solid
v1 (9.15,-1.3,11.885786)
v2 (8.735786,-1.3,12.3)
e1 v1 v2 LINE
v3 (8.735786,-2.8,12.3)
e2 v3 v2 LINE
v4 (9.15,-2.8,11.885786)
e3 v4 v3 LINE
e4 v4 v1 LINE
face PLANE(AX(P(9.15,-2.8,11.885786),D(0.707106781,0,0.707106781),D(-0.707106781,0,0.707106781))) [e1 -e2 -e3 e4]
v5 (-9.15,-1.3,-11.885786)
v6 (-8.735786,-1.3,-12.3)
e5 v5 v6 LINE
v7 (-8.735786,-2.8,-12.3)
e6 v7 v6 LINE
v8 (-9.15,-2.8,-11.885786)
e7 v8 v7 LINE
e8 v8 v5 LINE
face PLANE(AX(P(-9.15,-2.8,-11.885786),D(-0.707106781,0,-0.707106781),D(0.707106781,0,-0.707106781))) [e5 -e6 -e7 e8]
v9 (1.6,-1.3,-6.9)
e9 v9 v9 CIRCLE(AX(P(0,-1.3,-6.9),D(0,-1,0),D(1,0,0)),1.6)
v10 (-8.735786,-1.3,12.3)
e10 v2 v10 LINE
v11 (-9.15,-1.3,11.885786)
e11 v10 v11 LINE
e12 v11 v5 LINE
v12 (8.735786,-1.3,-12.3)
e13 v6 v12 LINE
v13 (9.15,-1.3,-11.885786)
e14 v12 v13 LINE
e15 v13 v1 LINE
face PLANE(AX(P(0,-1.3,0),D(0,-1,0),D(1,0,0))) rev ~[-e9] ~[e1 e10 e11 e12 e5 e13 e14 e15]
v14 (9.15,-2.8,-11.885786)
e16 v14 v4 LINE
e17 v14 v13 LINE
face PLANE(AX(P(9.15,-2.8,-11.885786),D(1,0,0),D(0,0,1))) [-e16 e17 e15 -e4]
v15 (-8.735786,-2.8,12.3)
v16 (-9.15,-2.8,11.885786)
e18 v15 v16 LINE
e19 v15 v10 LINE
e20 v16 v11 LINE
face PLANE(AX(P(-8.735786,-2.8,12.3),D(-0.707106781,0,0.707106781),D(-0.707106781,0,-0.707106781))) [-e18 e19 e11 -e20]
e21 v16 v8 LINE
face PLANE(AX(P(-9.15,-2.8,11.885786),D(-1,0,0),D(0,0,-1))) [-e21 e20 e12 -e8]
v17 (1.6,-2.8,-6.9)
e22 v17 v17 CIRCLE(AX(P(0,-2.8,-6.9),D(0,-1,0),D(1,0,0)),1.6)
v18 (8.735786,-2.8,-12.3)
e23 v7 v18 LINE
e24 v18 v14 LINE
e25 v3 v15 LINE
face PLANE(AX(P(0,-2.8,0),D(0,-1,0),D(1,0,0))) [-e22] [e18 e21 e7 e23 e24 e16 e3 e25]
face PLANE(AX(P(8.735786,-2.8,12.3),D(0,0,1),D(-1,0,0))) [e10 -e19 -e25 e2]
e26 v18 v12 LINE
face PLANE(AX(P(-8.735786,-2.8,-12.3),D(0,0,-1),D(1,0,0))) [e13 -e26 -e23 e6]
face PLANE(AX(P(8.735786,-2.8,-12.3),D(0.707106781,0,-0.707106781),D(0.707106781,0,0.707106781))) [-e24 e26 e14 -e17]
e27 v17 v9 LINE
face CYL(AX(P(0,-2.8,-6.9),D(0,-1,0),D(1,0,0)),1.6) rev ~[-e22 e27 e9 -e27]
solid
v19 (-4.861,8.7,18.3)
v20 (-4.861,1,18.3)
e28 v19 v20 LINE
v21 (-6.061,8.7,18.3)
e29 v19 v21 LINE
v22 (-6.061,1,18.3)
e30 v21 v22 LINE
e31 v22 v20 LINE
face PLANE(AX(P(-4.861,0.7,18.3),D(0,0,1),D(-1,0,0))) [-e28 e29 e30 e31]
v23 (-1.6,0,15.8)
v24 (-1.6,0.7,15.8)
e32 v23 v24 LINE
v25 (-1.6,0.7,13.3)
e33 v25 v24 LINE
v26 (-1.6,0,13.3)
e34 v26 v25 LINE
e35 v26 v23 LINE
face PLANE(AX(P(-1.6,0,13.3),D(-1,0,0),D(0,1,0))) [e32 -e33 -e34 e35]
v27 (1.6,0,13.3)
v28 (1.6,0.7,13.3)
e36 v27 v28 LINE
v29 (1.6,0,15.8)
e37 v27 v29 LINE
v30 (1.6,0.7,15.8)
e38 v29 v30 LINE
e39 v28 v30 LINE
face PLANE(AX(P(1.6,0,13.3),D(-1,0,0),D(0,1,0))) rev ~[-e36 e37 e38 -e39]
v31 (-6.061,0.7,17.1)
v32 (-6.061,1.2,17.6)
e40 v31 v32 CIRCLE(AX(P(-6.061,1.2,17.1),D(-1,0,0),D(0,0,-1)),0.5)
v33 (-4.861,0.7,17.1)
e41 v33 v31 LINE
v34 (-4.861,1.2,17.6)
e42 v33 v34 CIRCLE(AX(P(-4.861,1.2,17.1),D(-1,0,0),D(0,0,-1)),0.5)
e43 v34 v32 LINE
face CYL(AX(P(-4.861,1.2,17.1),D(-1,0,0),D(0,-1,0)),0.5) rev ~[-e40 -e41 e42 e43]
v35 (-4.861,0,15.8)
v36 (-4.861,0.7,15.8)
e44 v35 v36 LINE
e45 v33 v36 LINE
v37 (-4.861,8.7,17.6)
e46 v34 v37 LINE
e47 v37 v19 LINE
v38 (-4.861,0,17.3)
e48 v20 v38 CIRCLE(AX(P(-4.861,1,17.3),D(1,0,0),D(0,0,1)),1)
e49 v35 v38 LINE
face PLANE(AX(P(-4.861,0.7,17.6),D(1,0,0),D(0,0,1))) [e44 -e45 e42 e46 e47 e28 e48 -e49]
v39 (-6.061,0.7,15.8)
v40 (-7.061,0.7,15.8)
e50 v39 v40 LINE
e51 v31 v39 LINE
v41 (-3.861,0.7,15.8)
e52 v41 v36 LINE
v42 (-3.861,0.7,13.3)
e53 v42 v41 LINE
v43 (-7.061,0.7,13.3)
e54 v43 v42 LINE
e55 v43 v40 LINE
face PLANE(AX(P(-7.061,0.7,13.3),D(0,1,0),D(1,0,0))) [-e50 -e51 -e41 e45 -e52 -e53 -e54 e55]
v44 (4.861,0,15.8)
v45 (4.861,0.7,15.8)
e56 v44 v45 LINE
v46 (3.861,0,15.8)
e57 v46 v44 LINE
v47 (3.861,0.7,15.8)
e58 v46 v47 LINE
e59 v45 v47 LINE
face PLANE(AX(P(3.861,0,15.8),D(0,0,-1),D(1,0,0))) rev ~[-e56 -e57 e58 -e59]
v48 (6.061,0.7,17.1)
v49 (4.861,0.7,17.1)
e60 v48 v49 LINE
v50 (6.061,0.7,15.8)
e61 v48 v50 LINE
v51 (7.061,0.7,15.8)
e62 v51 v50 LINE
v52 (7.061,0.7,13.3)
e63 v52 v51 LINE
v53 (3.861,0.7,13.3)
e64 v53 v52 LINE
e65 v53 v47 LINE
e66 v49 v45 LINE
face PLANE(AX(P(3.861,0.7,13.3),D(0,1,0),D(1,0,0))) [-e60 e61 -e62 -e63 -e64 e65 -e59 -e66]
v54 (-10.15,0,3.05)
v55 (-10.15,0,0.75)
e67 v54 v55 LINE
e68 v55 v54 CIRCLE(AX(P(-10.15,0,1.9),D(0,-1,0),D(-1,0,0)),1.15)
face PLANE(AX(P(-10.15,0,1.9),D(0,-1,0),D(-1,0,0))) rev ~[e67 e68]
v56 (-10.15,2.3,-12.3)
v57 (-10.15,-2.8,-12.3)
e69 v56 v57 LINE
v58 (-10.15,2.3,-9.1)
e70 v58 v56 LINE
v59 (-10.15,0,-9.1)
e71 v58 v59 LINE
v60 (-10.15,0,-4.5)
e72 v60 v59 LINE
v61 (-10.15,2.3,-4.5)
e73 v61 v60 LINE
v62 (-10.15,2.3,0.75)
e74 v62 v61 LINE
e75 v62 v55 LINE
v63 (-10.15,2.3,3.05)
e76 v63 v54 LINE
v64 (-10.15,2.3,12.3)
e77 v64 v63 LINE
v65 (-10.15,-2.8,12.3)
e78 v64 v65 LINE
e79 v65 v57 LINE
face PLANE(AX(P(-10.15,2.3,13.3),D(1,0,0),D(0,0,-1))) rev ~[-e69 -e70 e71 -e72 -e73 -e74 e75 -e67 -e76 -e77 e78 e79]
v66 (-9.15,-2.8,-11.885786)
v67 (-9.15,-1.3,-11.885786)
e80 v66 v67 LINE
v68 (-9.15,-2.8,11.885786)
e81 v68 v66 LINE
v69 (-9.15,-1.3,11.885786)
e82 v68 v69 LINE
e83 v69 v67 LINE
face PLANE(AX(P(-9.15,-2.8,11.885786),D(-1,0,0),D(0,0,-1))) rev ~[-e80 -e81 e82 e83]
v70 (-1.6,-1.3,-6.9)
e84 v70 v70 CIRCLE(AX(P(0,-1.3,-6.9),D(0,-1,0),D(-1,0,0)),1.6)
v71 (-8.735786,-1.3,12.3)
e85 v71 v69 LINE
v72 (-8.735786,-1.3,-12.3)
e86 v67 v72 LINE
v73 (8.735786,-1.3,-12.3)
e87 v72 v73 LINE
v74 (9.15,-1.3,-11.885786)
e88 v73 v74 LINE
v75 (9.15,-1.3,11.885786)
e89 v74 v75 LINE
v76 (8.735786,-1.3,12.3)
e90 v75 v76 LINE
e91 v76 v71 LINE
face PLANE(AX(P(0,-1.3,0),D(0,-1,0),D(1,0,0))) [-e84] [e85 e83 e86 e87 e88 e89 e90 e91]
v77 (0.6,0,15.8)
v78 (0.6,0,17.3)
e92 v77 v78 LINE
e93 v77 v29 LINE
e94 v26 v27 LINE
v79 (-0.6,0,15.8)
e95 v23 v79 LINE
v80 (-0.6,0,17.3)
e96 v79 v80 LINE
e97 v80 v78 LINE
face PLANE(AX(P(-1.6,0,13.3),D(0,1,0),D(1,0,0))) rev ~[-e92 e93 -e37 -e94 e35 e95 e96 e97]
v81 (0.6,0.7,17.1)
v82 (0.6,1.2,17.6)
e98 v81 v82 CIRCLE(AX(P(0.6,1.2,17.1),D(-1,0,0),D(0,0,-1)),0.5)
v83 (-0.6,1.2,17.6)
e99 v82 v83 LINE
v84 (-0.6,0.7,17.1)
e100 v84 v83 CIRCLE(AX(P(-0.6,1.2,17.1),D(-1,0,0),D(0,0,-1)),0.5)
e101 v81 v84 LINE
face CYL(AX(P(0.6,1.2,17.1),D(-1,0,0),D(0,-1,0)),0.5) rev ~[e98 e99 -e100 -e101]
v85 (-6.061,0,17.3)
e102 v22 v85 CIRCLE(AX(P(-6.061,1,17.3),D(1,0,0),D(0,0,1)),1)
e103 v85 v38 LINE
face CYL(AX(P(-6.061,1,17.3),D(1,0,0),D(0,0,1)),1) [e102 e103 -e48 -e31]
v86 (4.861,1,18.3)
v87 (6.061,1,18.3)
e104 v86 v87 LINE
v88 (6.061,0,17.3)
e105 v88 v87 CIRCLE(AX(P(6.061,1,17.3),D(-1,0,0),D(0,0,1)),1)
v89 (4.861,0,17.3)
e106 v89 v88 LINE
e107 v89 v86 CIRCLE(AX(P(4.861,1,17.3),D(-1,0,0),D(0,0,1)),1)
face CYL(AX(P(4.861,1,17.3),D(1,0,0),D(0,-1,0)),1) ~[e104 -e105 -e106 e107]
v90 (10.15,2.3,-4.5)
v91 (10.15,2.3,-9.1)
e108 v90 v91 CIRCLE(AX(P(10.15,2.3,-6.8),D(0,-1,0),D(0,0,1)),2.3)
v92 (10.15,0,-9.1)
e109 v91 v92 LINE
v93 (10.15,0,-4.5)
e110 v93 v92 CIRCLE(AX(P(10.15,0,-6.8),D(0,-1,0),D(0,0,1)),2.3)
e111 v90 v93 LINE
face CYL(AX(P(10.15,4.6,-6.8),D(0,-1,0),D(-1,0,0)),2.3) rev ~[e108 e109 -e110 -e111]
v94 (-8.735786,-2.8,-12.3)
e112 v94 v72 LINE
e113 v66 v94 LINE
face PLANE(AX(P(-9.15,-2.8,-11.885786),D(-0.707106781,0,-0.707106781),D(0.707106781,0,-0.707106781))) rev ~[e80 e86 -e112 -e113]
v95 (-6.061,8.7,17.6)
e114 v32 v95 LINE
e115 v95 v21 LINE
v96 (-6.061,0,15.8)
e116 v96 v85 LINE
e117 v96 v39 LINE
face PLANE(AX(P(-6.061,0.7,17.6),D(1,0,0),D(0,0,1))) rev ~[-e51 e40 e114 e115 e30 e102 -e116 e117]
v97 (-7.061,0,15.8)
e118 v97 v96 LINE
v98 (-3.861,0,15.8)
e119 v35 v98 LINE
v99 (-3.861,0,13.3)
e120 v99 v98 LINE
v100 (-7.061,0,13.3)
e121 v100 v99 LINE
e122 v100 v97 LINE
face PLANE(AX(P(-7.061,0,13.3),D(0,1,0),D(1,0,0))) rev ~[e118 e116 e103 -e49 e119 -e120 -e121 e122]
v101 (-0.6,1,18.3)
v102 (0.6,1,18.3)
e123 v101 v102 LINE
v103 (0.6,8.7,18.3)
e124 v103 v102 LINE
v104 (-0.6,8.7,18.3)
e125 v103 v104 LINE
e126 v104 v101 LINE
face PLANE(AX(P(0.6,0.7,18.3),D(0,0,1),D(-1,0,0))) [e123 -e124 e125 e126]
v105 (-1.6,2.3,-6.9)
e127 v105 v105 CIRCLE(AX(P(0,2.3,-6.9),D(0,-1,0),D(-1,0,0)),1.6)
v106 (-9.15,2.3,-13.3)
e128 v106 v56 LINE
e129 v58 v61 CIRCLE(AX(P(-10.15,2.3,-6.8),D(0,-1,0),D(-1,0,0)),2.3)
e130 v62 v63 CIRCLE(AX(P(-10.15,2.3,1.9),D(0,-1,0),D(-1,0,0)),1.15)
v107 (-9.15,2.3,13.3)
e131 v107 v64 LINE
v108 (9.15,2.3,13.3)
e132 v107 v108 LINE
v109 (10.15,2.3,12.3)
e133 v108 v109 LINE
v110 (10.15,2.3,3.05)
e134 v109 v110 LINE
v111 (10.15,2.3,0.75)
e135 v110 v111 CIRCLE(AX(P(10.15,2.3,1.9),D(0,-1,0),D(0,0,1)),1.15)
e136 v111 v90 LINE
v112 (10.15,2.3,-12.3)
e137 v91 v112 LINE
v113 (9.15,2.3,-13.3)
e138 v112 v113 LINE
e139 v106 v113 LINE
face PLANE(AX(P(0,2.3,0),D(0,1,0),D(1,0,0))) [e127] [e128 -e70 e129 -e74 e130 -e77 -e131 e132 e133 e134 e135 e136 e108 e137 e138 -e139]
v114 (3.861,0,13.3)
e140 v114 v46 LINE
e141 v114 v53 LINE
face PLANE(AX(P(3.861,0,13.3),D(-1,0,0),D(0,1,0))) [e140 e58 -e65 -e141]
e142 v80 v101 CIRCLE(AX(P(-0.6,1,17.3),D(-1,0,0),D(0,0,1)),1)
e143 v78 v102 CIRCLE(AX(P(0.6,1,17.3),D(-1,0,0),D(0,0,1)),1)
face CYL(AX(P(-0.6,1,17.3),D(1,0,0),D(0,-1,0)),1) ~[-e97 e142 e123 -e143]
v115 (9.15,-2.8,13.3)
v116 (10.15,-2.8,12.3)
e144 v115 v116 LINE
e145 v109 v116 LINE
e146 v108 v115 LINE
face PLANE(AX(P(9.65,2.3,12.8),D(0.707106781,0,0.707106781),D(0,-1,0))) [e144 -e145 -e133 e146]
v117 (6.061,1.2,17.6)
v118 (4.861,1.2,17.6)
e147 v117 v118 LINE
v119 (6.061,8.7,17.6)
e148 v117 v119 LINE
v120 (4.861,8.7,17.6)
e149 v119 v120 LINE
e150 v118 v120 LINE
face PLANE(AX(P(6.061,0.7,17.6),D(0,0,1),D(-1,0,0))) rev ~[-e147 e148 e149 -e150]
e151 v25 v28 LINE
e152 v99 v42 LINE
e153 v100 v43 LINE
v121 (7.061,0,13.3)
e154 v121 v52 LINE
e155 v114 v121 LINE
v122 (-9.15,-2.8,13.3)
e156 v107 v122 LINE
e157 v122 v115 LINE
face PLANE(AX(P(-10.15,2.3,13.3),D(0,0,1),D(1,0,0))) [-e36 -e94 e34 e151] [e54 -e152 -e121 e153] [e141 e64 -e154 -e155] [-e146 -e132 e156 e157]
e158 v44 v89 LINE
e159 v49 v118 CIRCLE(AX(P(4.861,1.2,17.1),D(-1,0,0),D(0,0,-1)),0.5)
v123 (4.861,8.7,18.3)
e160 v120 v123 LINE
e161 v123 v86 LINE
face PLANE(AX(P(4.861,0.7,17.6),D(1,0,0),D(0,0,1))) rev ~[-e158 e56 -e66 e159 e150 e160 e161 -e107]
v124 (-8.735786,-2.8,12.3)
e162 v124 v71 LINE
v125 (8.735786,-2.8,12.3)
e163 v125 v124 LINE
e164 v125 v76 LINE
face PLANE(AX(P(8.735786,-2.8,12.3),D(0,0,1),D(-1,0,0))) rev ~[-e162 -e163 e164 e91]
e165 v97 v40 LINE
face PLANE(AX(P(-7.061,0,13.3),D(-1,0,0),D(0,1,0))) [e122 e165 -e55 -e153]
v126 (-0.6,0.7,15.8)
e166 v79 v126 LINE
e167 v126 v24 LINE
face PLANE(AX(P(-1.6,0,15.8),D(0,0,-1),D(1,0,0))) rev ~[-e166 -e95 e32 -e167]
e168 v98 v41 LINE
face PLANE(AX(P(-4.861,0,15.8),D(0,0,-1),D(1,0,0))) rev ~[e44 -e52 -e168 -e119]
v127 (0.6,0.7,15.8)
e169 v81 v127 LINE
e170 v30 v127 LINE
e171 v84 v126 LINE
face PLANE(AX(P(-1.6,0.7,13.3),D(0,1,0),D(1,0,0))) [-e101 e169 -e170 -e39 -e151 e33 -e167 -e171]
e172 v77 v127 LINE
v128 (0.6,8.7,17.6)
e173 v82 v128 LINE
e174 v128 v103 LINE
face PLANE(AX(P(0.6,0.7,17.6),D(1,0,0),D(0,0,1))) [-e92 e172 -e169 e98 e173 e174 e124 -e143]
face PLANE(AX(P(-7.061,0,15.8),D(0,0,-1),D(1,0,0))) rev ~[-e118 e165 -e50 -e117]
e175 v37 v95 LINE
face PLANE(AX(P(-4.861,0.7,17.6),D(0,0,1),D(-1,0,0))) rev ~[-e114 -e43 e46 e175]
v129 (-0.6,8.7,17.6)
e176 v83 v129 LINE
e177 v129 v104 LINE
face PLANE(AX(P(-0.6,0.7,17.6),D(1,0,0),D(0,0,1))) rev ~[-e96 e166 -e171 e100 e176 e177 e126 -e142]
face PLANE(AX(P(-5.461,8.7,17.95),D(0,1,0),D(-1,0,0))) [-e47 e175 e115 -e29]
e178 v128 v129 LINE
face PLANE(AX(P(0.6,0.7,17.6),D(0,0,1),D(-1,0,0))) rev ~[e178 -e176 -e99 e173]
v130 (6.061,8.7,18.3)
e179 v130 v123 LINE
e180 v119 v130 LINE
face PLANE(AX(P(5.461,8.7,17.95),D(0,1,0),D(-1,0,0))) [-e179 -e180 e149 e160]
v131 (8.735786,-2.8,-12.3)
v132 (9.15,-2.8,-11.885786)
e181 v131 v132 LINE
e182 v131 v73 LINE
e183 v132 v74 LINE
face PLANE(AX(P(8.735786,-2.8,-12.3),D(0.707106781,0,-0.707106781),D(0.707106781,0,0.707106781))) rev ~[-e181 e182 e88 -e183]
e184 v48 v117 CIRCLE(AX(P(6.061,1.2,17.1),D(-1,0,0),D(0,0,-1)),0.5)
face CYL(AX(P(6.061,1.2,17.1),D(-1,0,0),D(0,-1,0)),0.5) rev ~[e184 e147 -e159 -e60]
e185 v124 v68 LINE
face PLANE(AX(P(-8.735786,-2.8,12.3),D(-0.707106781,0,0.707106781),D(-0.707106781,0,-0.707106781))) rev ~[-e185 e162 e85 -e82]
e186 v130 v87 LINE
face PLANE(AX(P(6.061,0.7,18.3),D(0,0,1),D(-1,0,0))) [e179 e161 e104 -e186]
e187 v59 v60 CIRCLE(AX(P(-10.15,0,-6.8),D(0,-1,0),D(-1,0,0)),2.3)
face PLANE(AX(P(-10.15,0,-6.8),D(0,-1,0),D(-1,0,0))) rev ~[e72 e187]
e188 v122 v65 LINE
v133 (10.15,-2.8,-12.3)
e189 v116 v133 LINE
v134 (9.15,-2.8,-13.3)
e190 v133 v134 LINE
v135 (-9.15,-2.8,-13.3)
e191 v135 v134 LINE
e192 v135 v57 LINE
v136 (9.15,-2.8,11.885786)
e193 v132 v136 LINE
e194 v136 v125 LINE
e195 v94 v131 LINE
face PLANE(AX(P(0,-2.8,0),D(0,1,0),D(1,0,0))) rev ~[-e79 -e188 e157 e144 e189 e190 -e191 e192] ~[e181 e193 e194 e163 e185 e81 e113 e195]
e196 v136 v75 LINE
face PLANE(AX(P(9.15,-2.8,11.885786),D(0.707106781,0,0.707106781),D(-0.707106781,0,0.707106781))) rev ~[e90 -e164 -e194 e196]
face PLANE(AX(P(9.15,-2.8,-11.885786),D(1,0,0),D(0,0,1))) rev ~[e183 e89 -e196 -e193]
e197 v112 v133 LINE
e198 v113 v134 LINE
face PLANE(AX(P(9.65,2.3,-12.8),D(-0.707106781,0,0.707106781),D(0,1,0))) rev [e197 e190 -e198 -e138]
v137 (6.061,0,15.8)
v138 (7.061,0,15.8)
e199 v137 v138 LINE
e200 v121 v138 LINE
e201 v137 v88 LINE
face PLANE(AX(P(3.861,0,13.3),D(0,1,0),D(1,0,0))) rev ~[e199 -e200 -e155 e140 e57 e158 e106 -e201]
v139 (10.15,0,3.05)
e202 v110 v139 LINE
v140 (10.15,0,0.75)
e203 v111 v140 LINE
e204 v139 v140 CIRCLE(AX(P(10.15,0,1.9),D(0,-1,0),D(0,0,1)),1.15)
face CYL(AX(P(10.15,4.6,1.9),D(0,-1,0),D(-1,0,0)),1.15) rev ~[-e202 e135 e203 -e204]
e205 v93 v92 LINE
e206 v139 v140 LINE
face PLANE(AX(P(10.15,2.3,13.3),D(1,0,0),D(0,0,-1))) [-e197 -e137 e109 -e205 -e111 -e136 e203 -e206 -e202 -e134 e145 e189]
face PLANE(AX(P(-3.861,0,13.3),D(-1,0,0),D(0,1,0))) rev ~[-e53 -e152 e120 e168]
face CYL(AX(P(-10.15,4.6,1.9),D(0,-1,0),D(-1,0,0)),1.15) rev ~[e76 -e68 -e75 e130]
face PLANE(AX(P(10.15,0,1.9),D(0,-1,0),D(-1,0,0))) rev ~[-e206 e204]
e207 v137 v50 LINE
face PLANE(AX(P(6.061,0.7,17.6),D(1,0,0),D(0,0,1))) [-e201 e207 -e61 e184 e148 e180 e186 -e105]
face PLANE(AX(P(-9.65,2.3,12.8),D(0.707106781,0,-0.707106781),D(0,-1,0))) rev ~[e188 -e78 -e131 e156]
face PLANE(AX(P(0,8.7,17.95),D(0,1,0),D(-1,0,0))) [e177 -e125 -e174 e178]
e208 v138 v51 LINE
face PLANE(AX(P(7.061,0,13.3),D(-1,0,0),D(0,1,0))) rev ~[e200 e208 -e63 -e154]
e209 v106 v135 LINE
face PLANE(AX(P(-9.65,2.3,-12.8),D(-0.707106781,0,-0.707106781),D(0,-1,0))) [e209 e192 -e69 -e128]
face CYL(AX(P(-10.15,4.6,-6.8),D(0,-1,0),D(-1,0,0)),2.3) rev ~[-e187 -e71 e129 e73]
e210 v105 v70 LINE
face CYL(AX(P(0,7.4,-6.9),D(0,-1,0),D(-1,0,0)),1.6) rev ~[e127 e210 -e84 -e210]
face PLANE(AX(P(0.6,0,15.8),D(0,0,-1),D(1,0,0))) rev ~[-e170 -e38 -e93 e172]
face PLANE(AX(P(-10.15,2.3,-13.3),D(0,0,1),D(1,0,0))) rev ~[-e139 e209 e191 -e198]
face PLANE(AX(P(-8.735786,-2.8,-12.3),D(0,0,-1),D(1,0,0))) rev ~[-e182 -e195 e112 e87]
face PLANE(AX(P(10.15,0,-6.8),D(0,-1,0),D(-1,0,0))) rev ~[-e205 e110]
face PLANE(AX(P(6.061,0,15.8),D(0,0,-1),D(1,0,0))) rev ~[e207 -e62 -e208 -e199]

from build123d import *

# Parameters (mm, degrees)
SKETCH_1_W                  = 20.3
SKETCH_1_H                  = 26.6
EXTRUDE_1_DEPTH             = 5.1
SKETCH_2_W                  = 3.2
SKETCH_2_H                  = 0.7
EXTRUDE_2_DEPTH             = 5
SKETCH_3_W                  = 1
SKETCH_3_H                  = 2.5
CUT_EXTRUDE_1_DEPTH         = 22.112851536
SKETCH_4_W                  = 1
SKETCH_4_H                  = 2.5
CUT_EXTRUDE_2_DEPTH         = 22.112851536
SKETCH_5_W                  = 1.2
SKETCH_5_H                  = 0.7
EXTRUDE_3_DEPTH             = 8
SKETCH_6_W                  = 3.2
SKETCH_6_H                  = 0.7
EXTRUDE_4_DEPTH             = 5
SKETCH_7_W                  = 1
SKETCH_7_H                  = 2.5
CUT_EXTRUDE_3_DEPTH         = 23.662799915
SKETCH_8_W                  = 1
SKETCH_8_H                  = 2.5
CUT_EXTRUDE_4_DEPTH         = 23.662799915
SKETCH_9_W                  = 1.2
SKETCH_9_H                  = 0.7
EXTRUDE_5_DEPTH             = 8
SKETCH_10_W                 = 3.2
SKETCH_10_H                 = 0.7
EXTRUDE_6_DEPTH             = 5
SKETCH_11_W                 = 1
SKETCH_11_H                 = 2.5
CUT_EXTRUDE_5_DEPTH         = 23.662799915
SKETCH_12_W                 = 1
SKETCH_12_H                 = 2.5
CUT_EXTRUDE_6_DEPTH         = 23.662799915
SKETCH_13_W                 = 1.2
SKETCH_13_H                 = 0.7
EXTRUDE_7_DEPTH             = 8
HOLE_WIZARD_3_2_3_2_1_D     = 3.2
HOLE_WIZARD_2_3_2_3_1_D     = 2.3
HOLE_WIZARD_2_3_2_3_1_DEPTH = 2.3
HOLE_WIZARD_4_6_4_6_1_D     = 4.6
HOLE_WIZARD_4_6_4_6_1_DEPTH = 2.3
CHAMFER_1_SIZE              = 1
FILLET_1_R                  = 0.5
FILLET_2_R                  = 1
SKETCH_20_R                 = 1.6
CUT_EXTRUDE_7_DEPTH         = 1.5
SKETCH_20_4_R               = 1.6
EXTRUDE_9_DEPTH             = 1.5


with BuildPart() as part:
    # Эскиз1 → Бобышка-Вытянуть1 (new body)
    with BuildSketch(Plane(origin=(0, 2.3, 0), x_dir=(1, 0, 0), z_dir=(0, 1, 0))):
        Rectangle(SKETCH_1_W, SKETCH_1_H)
    extrude(amount=-EXTRUDE_1_DEPTH)

    # Эскиз2 → Бобышка-Вытянуть2 (add)
    with BuildSketch(Plane.XY.offset(13.3)):
        with Locations((5.461, 0.35)):
            Rectangle(SKETCH_2_W, SKETCH_2_H)
    extrude(amount=EXTRUDE_2_DEPTH)

    # Эскиз3 → Вырез-Вытянуть1 (cut, through all)
    with BuildSketch(Plane.XZ):
        with Locations((4.361, 17.05)):
            Rectangle(SKETCH_3_W, SKETCH_3_H)
    extrude(amount=-CUT_EXTRUDE_1_DEPTH, mode=Mode.SUBTRACT)

    # Эскиз4 → Вырез-Вытянуть2 (cut, through all)
    with BuildSketch(Plane.XZ):
        with Locations((6.561, 17.05)):
            Rectangle(SKETCH_4_W, SKETCH_4_H)
    extrude(amount=-CUT_EXTRUDE_2_DEPTH, mode=Mode.SUBTRACT)

    # Эскиз5 → Бобышка-Вытянуть3 (add)
    with BuildSketch(Plane(origin=(0, 0.7, 0), x_dir=(-1, 0, 0), z_dir=(0, 1, 0))):
        with Locations((-5.461, 17.95)):
            Rectangle(SKETCH_5_W, SKETCH_5_H)
    extrude(amount=EXTRUDE_3_DEPTH)

    # Эскиз6 → Бобышка-Вытянуть4 (add)
    with BuildSketch(Plane.XY.offset(13.3)):
        with Locations((0, 0.35)):
            Rectangle(SKETCH_6_W, SKETCH_6_H)
    extrude(amount=EXTRUDE_4_DEPTH)

    # Эскиз7 → Вырез-Вытянуть3 (cut, through all)
    with BuildSketch(Plane.XZ):
        with Locations((-1.1, 17.05)):
            Rectangle(SKETCH_7_W, SKETCH_7_H)
    extrude(amount=-CUT_EXTRUDE_3_DEPTH, mode=Mode.SUBTRACT)

    # Эскиз8 → Вырез-Вытянуть4 (cut, through all)
    with BuildSketch(Plane.XZ):
        with Locations((1.1, 17.05)):
            Rectangle(SKETCH_8_W, SKETCH_8_H)
    extrude(amount=-CUT_EXTRUDE_4_DEPTH, mode=Mode.SUBTRACT)

    # Эскиз9 → Бобышка-Вытянуть5 (add)
    with BuildSketch(Plane(origin=(0, 0.7, 0), x_dir=(-1, 0, 0), z_dir=(0, 1, 0))):
        with Locations((0, 17.95)):
            Rectangle(SKETCH_9_W, SKETCH_9_H)
    extrude(amount=EXTRUDE_5_DEPTH)

    # Эскиз10 → Бобышка-Вытянуть6 (add)
    with BuildSketch(Plane.XY.offset(13.3)):
        with Locations((-5.461, 0.35)):
            Rectangle(SKETCH_10_W, SKETCH_10_H)
    extrude(amount=EXTRUDE_6_DEPTH)

    # Эскиз11 → Вырез-Вытянуть5 (cut, through all)
    with BuildSketch(Plane.XZ):
        with Locations((-6.561, 17.05)):
            Rectangle(SKETCH_11_W, SKETCH_11_H)
    extrude(amount=-CUT_EXTRUDE_5_DEPTH, mode=Mode.SUBTRACT)

    # Эскиз12 → Вырез-Вытянуть6 (cut, through all)
    with BuildSketch(Plane.XZ):
        with Locations((-4.361, 17.05)):
            Rectangle(SKETCH_12_W, SKETCH_12_H)
    extrude(amount=-CUT_EXTRUDE_6_DEPTH, mode=Mode.SUBTRACT)

    # Эскиз13 → Бобышка-Вытянуть7 (add)
    with BuildSketch(Plane(origin=(0, 0.7, 0), x_dir=(-1, 0, 0), z_dir=(0, 1, 0))):
        with Locations((5.461, 17.95)):
            Rectangle(SKETCH_13_W, SKETCH_13_H)
    extrude(amount=EXTRUDE_7_DEPTH)

    # Диаметр отверстия Ø3.2 (3.2)1 (through all)
    with Locations(Plane(origin=(0, 2.3, 0), x_dir=(1, 0, 0), z_dir=(0, 1, 0))):
        with Locations((0, 6.9)):
            Hole(HOLE_WIZARD_3_2_3_2_1_D / 2)

    # Диаметр отверстия Ø2.3 (2.3)1
    with Locations(Plane(origin=(0, 2.3, 0), x_dir=(1, 0, 0), z_dir=(0, 1, 0))):
        with Locations((10.15, -1.9), (-10.15, -1.9)):
            Hole(HOLE_WIZARD_2_3_2_3_1_D / 2, depth=HOLE_WIZARD_2_3_2_3_1_DEPTH)

    # Диаметр отверстия Ø4.6 (4.6)1
    with Locations(Plane(origin=(0, 2.3, 0), x_dir=(1, 0, 0), z_dir=(0, 1, 0))):
        with Locations((10.15, 6.8), (-10.15, 6.8)):
            Hole(HOLE_WIZARD_4_6_4_6_1_D / 2, depth=HOLE_WIZARD_4_6_4_6_1_DEPTH)

    # Фаска1
    chamfer_1_edges = [part.edges().sort_by_distance(p)[0] for p in [
        (10.15, -0.25, 13.3),
        (-10.15, -0.25, 13.3),
        (10.15, -0.25, -13.3),
        (-10.15, -0.25, -13.3),
    ]]
    chamfer(chamfer_1_edges, length=CHAMFER_1_SIZE)

    # Скругление1
    fillet_1_edges = [part.edges().sort_by_distance(p)[0] for p in [
        (-5.461, 0.7, 17.6),
        (0, 0.7, 17.6),
        (5.461, 0.7, 17.6),
    ]]
    fillet(fillet_1_edges, radius=FILLET_1_R)

    # Скругление2
    fillet_2_edges = [part.edges().sort_by_distance(p)[0] for p in [
        (0, 0, 18.3),
        (-5.461, 0, 18.3),
        (5.461, 0, 18.3),
    ]]
    fillet(fillet_2_edges, radius=FILLET_2_R)

    # Эскиз20 → Вырез-Вытянуть7 (cut)
    with BuildSketch(Plane.XZ.offset(2.8)):
        Polygon((8.735786438, -12.3), (9.15, -11.885786438), (9.15, 11.885786438), (8.735786438, 12.3), (-8.735786438, 12.3), (-9.15, 11.885786438), (-9.15, -11.885786438), (-8.735786438, -12.3), align=None)
        with Locations((0, -6.9)):
            Circle(SKETCH_20_R, mode=Mode.SUBTRACT)
    extrude(amount=-CUT_EXTRUDE_7_DEPTH, mode=Mode.SUBTRACT)


with BuildPart() as body_2:
    # Эскиз20<4> → Бобышка-Вытянуть9 (new body)
    with BuildSketch(Plane.XZ.offset(2.8)):
        Polygon((8.735786438, -12.3), (9.15, -11.885786438), (9.15, 11.885786438), (8.735786438, 12.3), (-8.735786438, 12.3), (-9.15, 11.885786438), (-9.15, -11.885786438), (-8.735786438, -12.3), align=None)
        with Locations((0, -6.9)):
            Circle(SKETCH_20_4_R, mode=Mode.SUBTRACT)
    extrude(amount=-EXTRUDE_9_DEPTH)


solid = Compound([part.part, body_2.part])
